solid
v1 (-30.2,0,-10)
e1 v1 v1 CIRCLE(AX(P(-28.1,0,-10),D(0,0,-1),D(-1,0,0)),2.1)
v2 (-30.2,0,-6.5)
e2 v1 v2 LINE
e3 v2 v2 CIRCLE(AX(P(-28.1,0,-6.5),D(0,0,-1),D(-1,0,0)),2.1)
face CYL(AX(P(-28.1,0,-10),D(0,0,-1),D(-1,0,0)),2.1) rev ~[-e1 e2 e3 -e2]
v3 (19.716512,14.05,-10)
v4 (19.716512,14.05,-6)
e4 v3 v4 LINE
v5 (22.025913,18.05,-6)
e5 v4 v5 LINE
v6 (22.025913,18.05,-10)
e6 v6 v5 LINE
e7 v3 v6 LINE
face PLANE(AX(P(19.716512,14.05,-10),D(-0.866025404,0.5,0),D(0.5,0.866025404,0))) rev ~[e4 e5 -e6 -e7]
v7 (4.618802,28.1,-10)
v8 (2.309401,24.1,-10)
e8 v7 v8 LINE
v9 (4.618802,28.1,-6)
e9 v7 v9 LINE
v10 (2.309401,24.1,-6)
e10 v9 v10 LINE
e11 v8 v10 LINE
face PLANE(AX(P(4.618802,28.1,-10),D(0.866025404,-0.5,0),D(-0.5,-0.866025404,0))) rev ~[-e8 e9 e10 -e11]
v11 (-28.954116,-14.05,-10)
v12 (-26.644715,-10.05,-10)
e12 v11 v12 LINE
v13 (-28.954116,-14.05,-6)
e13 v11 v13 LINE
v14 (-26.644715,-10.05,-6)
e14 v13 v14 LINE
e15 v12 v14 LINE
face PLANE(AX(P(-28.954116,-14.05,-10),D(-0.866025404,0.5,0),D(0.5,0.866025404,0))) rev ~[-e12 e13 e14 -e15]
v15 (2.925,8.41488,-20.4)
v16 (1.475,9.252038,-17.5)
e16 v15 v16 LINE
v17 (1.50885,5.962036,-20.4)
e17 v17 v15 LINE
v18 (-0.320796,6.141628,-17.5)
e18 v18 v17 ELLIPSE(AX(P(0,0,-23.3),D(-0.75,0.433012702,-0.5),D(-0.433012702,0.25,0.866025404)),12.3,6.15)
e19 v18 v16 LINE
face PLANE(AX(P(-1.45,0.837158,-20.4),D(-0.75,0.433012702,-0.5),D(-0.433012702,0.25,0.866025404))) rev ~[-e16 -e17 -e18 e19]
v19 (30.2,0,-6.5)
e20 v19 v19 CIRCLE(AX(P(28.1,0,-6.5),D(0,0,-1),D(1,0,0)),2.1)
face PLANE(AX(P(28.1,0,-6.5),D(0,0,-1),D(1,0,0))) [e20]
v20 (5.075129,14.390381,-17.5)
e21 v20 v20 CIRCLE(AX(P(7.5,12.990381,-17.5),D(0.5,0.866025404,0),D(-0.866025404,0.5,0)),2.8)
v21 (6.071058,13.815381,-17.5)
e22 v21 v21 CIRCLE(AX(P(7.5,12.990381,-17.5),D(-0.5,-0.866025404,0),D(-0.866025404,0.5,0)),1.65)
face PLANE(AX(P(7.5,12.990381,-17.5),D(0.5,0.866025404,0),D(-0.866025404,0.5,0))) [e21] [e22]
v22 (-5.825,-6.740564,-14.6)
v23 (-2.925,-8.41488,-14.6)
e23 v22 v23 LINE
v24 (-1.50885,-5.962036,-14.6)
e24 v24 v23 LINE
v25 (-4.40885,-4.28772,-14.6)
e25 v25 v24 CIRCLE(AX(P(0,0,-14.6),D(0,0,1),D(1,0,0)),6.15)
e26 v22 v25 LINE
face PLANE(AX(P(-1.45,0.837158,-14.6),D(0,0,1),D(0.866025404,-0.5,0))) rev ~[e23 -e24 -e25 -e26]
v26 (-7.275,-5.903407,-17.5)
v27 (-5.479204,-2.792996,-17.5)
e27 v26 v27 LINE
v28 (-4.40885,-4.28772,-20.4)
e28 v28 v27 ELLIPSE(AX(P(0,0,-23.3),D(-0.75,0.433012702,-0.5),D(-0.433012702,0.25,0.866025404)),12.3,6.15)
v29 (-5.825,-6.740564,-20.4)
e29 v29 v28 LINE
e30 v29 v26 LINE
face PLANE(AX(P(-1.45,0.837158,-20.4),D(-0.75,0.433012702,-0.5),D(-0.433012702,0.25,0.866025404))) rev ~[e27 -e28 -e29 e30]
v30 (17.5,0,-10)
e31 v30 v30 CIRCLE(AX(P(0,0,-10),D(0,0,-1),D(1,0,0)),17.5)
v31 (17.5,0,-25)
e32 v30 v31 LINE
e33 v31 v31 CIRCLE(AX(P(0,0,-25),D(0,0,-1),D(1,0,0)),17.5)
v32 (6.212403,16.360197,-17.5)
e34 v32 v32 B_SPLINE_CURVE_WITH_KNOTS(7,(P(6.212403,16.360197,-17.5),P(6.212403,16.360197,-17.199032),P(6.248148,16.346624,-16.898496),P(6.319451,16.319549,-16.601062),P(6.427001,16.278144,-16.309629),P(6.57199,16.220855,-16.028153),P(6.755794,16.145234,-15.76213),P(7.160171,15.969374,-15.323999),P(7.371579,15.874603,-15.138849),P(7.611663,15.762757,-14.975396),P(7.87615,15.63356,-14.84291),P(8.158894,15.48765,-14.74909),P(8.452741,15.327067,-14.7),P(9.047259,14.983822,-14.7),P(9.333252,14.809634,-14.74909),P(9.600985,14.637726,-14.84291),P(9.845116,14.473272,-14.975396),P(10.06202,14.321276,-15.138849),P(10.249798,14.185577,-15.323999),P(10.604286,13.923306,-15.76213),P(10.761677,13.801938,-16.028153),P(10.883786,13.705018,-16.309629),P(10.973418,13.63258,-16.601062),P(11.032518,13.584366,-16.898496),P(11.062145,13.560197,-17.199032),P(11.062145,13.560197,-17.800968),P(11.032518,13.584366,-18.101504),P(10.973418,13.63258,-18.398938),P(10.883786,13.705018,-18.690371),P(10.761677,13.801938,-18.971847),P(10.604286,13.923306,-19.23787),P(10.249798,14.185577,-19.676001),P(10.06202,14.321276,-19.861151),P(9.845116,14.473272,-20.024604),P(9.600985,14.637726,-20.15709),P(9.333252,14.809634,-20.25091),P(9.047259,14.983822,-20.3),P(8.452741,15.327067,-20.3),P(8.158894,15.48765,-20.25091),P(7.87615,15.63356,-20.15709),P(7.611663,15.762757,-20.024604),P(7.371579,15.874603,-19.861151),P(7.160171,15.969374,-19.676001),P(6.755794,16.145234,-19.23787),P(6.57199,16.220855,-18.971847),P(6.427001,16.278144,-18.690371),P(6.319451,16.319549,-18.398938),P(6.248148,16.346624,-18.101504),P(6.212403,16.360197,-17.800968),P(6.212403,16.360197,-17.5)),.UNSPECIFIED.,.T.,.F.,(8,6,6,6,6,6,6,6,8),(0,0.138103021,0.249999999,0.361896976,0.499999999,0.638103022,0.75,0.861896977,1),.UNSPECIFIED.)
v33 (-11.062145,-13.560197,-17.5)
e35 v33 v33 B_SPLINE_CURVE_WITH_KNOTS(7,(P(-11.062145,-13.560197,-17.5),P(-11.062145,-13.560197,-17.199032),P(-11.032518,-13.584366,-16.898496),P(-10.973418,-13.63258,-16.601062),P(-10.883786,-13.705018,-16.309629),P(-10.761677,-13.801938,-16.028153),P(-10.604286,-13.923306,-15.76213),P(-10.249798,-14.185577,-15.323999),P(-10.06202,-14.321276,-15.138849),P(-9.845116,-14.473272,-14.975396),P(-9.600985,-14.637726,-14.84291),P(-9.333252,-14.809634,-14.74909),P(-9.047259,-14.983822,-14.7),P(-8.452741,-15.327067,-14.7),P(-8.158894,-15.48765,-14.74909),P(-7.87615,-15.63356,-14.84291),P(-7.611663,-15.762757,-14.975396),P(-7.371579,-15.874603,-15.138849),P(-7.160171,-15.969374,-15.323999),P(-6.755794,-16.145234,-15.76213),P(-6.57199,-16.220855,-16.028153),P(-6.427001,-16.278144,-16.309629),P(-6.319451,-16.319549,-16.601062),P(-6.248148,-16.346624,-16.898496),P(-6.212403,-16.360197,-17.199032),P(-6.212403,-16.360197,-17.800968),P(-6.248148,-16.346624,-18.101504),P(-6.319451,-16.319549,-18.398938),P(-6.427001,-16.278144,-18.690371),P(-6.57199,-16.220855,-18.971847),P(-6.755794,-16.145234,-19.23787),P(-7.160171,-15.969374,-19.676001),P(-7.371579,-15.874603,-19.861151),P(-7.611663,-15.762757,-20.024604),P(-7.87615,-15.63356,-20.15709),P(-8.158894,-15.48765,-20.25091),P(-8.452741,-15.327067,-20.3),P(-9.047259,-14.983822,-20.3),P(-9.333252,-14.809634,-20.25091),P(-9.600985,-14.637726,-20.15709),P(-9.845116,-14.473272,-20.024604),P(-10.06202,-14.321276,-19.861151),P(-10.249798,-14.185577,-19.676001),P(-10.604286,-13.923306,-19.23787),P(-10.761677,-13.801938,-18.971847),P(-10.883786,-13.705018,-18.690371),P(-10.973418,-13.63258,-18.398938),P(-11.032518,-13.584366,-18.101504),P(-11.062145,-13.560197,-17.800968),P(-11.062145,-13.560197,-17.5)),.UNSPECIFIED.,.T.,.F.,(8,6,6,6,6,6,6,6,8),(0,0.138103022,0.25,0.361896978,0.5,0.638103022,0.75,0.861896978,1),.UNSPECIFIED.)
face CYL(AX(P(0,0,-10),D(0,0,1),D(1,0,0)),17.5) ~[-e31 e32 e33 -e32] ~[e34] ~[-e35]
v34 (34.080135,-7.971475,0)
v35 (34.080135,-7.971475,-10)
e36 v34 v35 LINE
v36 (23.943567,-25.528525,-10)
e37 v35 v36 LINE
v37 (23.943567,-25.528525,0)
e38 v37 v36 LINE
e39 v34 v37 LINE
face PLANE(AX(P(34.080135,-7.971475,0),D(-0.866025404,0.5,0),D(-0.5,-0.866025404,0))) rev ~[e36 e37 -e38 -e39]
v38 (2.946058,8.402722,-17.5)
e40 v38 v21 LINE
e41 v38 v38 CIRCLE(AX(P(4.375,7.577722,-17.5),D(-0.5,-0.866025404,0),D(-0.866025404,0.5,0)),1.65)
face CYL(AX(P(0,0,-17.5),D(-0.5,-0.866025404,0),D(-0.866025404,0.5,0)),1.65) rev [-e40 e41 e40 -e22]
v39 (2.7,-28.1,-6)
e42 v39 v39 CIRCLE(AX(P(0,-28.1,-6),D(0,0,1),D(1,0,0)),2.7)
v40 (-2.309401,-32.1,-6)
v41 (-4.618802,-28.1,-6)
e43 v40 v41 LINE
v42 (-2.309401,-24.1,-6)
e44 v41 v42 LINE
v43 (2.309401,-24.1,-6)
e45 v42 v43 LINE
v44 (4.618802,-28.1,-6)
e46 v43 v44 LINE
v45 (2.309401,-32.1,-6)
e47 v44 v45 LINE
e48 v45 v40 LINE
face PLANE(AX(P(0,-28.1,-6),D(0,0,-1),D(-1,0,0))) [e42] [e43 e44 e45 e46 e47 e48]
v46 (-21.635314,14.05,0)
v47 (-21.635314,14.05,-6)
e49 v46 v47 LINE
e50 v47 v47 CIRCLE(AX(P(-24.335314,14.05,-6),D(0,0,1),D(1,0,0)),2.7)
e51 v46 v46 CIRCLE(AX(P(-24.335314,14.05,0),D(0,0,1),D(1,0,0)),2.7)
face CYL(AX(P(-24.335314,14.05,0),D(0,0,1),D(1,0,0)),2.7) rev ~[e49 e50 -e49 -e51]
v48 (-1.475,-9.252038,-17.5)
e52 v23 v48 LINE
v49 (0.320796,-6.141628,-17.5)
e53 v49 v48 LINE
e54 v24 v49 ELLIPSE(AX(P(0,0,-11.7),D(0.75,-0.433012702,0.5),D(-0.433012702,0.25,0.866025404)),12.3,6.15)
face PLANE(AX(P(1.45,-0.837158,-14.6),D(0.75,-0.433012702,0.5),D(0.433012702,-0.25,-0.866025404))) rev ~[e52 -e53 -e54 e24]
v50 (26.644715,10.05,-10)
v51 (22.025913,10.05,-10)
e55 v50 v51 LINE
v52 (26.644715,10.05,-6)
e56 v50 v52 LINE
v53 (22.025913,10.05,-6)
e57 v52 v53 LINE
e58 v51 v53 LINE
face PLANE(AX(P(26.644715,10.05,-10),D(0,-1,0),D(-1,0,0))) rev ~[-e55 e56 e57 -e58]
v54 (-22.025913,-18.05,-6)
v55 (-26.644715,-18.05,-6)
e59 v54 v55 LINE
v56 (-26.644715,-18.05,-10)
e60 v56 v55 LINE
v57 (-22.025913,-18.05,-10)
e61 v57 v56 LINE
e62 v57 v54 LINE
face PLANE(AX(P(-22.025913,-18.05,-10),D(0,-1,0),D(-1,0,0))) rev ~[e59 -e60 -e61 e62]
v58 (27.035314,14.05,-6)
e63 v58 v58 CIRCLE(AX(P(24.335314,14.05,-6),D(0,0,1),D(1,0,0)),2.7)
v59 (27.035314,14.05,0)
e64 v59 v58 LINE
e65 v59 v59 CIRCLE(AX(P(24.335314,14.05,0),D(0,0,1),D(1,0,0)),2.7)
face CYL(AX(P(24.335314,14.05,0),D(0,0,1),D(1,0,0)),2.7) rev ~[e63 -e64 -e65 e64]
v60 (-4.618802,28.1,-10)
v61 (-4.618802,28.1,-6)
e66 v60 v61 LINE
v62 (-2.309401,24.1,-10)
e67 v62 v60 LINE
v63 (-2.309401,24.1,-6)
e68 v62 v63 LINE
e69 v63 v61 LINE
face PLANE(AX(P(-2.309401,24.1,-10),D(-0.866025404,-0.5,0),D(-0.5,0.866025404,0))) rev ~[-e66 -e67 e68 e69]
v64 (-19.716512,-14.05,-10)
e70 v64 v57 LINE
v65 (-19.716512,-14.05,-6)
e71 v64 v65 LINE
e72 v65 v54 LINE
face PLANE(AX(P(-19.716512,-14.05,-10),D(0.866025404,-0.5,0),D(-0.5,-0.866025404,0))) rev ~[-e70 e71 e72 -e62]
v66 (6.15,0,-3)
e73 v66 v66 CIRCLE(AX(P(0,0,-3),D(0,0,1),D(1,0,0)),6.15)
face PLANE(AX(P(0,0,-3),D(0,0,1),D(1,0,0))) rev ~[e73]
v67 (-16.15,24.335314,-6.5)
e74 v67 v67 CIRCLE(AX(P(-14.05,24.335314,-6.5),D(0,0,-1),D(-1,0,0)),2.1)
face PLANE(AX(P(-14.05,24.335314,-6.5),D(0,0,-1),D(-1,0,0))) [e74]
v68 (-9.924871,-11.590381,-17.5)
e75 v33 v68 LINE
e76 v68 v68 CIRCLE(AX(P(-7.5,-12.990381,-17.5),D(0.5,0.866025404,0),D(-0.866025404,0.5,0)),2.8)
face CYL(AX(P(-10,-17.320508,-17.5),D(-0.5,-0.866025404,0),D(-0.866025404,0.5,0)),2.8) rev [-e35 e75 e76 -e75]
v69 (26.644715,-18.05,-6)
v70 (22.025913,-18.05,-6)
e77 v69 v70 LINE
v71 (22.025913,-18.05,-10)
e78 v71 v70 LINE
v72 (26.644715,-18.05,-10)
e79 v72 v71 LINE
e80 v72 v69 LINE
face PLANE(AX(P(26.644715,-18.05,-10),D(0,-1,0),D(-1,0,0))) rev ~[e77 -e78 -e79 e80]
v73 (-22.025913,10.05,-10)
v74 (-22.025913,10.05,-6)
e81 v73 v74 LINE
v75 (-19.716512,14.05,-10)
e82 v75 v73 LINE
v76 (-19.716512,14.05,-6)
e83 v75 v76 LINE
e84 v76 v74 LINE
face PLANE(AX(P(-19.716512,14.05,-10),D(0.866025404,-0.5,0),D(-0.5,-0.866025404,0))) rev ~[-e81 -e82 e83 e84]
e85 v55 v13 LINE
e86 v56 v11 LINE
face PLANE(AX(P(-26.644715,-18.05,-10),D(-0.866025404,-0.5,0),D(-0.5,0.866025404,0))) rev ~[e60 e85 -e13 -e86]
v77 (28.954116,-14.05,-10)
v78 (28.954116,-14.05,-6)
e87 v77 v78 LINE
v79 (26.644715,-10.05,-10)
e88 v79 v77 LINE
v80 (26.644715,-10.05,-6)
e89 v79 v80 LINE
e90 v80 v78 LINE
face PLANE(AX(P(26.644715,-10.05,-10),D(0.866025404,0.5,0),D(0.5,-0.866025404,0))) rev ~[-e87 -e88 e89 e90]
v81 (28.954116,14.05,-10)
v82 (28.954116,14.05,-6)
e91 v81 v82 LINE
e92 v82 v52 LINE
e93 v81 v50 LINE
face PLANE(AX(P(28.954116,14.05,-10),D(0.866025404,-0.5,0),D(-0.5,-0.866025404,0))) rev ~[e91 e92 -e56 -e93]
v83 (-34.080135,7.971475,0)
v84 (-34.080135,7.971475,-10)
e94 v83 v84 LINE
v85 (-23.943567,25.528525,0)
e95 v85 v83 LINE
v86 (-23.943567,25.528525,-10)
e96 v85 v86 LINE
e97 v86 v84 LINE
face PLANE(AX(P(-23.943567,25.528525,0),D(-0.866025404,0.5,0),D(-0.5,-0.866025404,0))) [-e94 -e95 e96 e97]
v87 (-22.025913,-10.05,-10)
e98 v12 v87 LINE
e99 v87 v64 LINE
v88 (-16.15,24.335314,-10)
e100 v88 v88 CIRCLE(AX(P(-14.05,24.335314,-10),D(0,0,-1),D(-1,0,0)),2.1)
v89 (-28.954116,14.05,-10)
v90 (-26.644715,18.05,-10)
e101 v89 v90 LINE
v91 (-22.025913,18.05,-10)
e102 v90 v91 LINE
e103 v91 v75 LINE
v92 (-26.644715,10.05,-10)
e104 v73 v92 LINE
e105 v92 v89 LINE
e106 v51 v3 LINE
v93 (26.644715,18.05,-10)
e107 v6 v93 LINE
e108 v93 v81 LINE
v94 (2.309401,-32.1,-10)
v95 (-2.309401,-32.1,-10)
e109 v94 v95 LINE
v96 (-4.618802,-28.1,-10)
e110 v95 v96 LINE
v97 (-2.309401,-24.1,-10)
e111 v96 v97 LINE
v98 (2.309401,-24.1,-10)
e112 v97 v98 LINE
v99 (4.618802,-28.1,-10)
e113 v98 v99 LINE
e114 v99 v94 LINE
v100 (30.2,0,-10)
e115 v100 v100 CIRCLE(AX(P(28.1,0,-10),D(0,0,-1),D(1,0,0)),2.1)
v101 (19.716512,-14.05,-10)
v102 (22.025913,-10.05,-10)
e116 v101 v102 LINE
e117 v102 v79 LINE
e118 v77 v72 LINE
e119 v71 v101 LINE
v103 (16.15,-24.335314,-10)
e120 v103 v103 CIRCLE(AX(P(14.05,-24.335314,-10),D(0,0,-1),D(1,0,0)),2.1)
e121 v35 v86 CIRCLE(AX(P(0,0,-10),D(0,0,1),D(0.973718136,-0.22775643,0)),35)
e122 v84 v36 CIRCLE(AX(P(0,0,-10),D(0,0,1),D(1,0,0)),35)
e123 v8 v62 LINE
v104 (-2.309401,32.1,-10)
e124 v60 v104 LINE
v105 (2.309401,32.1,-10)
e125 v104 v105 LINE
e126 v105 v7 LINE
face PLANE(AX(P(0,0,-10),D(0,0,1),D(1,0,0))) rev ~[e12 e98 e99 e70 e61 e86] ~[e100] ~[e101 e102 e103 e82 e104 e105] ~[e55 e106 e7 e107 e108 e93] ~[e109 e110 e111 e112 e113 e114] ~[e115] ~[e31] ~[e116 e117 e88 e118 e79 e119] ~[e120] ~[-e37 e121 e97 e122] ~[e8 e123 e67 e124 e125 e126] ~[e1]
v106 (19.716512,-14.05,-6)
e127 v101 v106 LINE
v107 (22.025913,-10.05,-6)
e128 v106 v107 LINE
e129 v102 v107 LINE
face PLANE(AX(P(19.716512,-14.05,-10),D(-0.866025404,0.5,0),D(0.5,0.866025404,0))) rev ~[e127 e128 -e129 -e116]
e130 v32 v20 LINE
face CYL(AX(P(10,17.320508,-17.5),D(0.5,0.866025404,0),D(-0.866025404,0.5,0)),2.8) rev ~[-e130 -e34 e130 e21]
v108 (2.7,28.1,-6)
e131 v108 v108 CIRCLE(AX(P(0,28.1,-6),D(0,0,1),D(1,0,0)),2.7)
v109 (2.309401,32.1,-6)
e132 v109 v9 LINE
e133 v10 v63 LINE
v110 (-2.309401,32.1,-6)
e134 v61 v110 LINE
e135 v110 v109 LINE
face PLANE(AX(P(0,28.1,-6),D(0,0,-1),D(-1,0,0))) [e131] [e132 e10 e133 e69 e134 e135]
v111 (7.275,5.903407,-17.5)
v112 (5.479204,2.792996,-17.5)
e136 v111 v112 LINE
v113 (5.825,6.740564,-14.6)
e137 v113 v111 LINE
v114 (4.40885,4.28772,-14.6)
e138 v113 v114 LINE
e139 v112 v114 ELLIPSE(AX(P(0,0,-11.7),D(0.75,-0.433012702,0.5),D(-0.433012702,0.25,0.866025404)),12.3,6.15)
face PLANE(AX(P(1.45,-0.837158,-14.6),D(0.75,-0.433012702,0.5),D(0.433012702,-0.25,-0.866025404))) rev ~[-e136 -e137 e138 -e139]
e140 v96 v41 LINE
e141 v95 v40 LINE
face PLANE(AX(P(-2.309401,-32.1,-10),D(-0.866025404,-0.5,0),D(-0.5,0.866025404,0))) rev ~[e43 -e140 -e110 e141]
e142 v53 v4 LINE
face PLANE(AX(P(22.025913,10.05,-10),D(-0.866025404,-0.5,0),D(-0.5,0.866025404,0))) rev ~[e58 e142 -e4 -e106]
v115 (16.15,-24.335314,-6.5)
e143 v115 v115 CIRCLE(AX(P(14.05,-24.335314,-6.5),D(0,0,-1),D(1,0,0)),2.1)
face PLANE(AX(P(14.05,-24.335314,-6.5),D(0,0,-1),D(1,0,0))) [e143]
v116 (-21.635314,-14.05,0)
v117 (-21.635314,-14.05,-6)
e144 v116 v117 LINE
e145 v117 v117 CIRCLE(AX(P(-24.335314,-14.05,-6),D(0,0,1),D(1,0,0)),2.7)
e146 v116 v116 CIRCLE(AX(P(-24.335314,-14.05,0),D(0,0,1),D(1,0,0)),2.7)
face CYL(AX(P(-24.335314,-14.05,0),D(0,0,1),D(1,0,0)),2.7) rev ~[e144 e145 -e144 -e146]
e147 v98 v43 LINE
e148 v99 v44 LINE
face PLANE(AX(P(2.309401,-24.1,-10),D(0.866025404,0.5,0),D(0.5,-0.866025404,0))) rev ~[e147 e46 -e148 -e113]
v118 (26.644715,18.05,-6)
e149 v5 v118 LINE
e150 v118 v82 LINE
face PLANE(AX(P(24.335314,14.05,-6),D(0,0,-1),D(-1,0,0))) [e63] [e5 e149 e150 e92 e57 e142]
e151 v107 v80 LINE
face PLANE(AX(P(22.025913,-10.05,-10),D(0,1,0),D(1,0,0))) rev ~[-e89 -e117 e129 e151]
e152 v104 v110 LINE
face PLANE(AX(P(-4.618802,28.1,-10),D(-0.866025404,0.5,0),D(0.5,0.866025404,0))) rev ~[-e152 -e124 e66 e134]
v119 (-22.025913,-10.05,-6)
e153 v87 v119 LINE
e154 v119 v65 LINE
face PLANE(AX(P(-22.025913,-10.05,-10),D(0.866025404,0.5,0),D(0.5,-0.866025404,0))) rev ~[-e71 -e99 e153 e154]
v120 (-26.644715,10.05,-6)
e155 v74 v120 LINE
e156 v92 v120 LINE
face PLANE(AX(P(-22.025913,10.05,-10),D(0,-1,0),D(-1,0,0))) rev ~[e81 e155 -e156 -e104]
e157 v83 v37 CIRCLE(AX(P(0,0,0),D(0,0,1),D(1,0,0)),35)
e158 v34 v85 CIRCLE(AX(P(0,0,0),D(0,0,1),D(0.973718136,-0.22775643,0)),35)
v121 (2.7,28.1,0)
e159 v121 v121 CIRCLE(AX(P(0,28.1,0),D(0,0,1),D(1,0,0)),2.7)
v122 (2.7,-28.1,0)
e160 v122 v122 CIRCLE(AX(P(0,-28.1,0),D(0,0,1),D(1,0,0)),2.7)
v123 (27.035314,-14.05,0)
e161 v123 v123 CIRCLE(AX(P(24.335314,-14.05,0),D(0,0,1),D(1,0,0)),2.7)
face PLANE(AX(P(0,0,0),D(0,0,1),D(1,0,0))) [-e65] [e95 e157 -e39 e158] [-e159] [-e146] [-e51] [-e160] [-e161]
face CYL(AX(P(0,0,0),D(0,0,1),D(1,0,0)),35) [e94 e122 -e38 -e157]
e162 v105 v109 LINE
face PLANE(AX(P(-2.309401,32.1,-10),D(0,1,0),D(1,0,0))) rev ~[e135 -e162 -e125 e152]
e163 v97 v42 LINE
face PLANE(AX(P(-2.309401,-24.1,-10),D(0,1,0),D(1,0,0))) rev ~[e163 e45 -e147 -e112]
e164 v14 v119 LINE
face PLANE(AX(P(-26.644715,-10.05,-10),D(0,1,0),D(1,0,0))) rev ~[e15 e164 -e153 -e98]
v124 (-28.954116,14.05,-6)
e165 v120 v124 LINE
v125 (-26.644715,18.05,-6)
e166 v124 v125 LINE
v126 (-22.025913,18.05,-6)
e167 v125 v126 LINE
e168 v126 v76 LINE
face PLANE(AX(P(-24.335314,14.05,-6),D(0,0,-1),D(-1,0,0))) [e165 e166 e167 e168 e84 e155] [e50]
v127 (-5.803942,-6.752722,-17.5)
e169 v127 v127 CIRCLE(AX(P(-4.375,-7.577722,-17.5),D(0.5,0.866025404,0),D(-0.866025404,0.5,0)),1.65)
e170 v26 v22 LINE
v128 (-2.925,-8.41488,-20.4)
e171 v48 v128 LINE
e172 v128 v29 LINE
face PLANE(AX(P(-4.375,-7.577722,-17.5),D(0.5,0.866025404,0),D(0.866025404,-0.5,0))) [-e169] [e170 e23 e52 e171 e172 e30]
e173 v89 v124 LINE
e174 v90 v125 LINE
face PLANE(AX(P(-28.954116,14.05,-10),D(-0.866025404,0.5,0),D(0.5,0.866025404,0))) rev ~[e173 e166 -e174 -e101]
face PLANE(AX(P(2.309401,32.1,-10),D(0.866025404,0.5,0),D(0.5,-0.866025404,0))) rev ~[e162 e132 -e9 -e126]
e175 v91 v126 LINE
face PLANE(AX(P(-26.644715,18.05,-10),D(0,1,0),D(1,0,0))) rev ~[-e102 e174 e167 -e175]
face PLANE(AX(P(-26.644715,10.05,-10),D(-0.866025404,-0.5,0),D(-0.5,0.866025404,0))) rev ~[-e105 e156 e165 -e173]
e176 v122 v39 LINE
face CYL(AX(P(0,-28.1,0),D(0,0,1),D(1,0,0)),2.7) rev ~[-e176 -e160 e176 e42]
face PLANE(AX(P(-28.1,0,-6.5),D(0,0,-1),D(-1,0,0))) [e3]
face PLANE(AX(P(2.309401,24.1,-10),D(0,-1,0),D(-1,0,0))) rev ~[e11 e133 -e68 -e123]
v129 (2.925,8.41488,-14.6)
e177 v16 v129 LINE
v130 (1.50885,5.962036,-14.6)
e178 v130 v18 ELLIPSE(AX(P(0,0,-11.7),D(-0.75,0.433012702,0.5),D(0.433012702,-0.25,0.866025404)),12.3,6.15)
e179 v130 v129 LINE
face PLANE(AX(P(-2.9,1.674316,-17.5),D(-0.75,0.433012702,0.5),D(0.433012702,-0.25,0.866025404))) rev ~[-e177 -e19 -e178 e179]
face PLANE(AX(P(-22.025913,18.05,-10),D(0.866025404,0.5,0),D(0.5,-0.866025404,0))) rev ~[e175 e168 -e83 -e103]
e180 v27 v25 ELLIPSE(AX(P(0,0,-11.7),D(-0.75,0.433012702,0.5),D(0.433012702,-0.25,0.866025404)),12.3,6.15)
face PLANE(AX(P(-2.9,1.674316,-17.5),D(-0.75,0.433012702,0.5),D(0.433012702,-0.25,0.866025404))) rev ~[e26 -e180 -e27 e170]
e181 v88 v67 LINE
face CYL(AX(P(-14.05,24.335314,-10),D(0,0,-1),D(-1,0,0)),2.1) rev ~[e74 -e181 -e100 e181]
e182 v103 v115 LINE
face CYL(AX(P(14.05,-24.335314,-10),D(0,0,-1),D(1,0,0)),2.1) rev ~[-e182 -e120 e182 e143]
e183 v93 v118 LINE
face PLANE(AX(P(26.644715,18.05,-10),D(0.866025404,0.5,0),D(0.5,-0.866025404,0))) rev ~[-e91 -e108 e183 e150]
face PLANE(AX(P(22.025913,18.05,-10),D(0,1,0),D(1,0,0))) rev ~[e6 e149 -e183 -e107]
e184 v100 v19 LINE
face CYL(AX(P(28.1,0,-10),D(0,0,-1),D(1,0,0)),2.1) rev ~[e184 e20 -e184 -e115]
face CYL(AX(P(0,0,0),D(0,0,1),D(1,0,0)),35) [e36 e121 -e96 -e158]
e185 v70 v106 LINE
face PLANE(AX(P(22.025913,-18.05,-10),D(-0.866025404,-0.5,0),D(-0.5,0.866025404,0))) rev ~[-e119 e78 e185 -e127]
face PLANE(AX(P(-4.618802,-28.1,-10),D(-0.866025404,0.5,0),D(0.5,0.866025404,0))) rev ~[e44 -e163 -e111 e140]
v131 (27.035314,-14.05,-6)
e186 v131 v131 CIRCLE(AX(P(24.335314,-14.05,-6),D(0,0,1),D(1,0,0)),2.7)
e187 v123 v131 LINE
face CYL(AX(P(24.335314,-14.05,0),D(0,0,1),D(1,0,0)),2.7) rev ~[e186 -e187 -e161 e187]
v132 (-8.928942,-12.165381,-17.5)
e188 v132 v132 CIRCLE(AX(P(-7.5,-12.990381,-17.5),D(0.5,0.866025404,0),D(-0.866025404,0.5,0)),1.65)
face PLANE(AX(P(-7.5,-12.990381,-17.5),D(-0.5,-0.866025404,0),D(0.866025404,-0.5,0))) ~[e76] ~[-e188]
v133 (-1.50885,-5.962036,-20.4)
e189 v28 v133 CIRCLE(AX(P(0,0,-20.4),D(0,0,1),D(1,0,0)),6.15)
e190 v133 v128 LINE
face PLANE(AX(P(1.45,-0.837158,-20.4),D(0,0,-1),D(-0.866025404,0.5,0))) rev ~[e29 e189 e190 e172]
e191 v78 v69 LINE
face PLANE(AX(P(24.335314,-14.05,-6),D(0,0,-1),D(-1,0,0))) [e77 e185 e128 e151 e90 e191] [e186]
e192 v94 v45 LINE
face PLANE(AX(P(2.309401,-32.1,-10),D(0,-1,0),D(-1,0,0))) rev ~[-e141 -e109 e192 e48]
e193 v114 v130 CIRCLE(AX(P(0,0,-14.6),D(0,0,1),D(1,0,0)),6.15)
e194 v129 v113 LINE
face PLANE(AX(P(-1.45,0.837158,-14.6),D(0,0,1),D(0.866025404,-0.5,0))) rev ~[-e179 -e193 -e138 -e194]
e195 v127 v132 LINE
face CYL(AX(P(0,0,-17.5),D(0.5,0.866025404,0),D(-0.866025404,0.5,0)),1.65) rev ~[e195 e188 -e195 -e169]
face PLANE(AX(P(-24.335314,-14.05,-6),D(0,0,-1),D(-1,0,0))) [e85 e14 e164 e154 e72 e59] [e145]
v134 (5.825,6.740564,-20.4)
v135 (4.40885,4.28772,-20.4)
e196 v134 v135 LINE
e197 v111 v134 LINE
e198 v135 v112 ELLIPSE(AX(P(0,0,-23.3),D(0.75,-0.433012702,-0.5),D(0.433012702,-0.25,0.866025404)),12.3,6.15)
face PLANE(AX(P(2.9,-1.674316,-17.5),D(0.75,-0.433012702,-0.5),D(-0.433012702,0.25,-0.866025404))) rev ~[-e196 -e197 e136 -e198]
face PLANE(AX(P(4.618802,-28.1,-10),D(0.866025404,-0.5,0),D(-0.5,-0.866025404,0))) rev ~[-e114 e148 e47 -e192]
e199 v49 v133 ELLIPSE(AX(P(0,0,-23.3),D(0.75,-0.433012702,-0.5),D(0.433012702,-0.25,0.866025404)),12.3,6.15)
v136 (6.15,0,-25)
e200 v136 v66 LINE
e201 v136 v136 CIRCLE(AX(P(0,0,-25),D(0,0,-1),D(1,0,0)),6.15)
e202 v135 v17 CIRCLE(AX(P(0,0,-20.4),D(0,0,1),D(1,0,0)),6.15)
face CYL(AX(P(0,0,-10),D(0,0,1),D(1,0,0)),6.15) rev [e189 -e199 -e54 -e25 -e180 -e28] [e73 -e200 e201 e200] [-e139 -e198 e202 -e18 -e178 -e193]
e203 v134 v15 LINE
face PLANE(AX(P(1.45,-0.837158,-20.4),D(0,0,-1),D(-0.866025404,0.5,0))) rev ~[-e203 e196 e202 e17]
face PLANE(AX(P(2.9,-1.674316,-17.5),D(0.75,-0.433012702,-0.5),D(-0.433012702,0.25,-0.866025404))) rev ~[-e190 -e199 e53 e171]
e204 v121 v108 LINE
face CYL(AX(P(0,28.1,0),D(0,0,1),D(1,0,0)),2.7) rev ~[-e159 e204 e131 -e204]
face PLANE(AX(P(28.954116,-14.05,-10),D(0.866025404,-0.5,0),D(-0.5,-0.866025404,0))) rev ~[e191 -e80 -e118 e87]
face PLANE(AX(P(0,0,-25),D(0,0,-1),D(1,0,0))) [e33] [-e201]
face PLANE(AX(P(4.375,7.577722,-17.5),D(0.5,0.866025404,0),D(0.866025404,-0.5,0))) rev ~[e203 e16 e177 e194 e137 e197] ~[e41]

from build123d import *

# Parameters (mm, degrees)
SKETCH3_R               = 35
SKETCH3_R_2             = 6.15
BOSS_EXTRUDE1_DEPTH     = 10
SKETCH4_R               = 17.5
SKETCH4_R_2             = 6.15
BOSS_EXTRUDE2_DEPTH     = 15
SKETCH5_R               = 6.15
BOSS_EXTRUDE3_DEPTH     = 3
SKETCH7_R               = 2.7
CUT_EXTRUDE1_DEPTH      = 6
CUT_EXTRUDE2_DEPTH      = 10
SKETCH9_R               = 1.65
CUT_EXTRUDE3_DEPTH      = 84.669466186
CUT_EXTRUDE3_DEPTH_BACK = 84.669466186
CUT_EXTRUDE4_DEPTH      = 8.75
CUT_EXTRUDE5_START      = 20
SKETCH11_R              = 2.8
CUT_EXTRUDE5_DEPTH      = 5
SKETCH17_R              = 2.1
CUT_EXTRUDE6_DEPTH      = 3.5
CUT_EXTRUDE7_DEPTH      = 4


with BuildPart() as part:
    # Sketch3 → Boss-Extrude1 (new body)
    with BuildSketch(Plane.XY):
        Circle(SKETCH3_R)
        Circle(SKETCH3_R_2, mode=Mode.SUBTRACT)
    extrude(amount=-BOSS_EXTRUDE1_DEPTH)

    # Sketch4 → Boss-Extrude2 (add)
    with BuildSketch(Plane(origin=(0, 0, -10), x_dir=(-1, 0, 0), z_dir=(0, 0, -1))):
        with Locations(Location((0, 0, 0), (0, 0, 180))):
            Circle(SKETCH4_R)
        with Locations(Location((0, 0, 0), (0, 0, 180))):
            Circle(SKETCH4_R_2, mode=Mode.SUBTRACT)
    extrude(amount=BOSS_EXTRUDE2_DEPTH)

    # Sketch5 → Boss-Extrude3 (add)
    with BuildSketch(Plane.XY):
        Circle(SKETCH5_R)
    extrude(amount=-BOSS_EXTRUDE3_DEPTH)

    # Sketch7 → Cut-Extrude1 (cut)
    with BuildSketch(Plane.XY):
        with Locations((-24.335313846, 14.05)):
            Circle(SKETCH7_R)
        with Locations((-24.335313846, -14.05)):
            Circle(SKETCH7_R)
        with Locations((0, -28.1)):
            Circle(SKETCH7_R)
        with Locations((24.335313846, -14.05)):
            Circle(SKETCH7_R)
        with Locations((24.335313846, 14.05)):
            Circle(SKETCH7_R)
        with Locations((0, 28.1)):
            Circle(SKETCH7_R)
    extrude(amount=-CUT_EXTRUDE1_DEPTH, mode=Mode.SUBTRACT)

    # Sketch8 → Cut-Extrude2 (cut)
    with BuildSketch(Plane.XY):
        with BuildLine():
            Line((-23.943567294, 25.528524933), (-34.08013476, 7.971475067))
            ThreePointArc((-34.08013476, 7.971475067), (-30.310889132, 17.5), (-23.943567294, 25.528524933))
        make_face()
        with BuildLine():
            Line((34.08013476, -7.971475067), (23.943567294, -25.528524933))
            ThreePointArc((23.943567294, -25.528524933), (30.310889132, -17.5), (34.08013476, -7.971475067))
        make_face()
    extrude(amount=-CUT_EXTRUDE2_DEPTH, mode=Mode.SUBTRACT)

    # Sketch9 → Cut-Extrude3 (cut, two sides)
    with BuildSketch(Plane(origin=(-29.011851027, 16.75, -10), x_dir=(0.8660254037844387, -0.4999999999999999, 0), z_dir=(0.49999999999999994, 0.8660254037844388, 0))) as cut_extrude3_sk:
        with Locations(Location((33.5, 7.5, 0), (0, 0, 180))):
            Circle(SKETCH9_R)
    extrude(amount=CUT_EXTRUDE3_DEPTH, mode=Mode.SUBTRACT)
    extrude(cut_extrude3_sk.sketch, amount=-CUT_EXTRUDE3_DEPTH_BACK, mode=Mode.SUBTRACT)

    # Sketch10 → Cut-Extrude4 (cut, symmetric)
    with BuildSketch(Plane(origin=(-29.011851027, 16.75, -10), x_dir=(0.8660254037844387, -0.4999999999999999, 0), z_dir=(0.49999999999999994, 0.8660254037844388, 0))):
        Polygon((35.174315781, 10.4), (31.825684219, 10.4), (30.151368439, 7.5), (31.825684219, 4.6), (35.174315781, 4.6), (36.848631561, 7.5), align=None)
    extrude(amount=CUT_EXTRUDE4_DEPTH, both=True, mode=Mode.SUBTRACT)

    # Sketch11 → Cut-Extrude5 (cut)
    with BuildSketch(Plane(origin=(-29.011851027, 16.75, -10), x_dir=(0.8660254037844387, -0.4999999999999999, 0), z_dir=(0.49999999999999994, 0.8660254037844388, 0)).offset(CUT_EXTRUDE5_START)):
        with Locations(Location((33.5, 7.5, 0), (0, 0, 180))):
            Circle(SKETCH11_R)
    cut_extrude5 = extrude(amount=-CUT_EXTRUDE5_DEPTH, mode=Mode.SUBTRACT)

    # Mirror1: Cut-Extrude5 across plane
    add(cut_extrude5.mirror(Plane(origin=(-29.011851027, 16.75, -10), x_dir=(0, 0, 1), z_dir=(0.49999999999999994, 0.8660254037844388, 0))), mode=Mode.SUBTRACT)

    # Sketch17 → Cut-Extrude6 (cut)
    with BuildSketch(Plane(origin=(0, 0, -10), x_dir=(-1, 0, 0), z_dir=(0, 0, -1))):
        with Locations((14.05, 24.335313846)):
            Circle(SKETCH17_R)
        with Locations((28.1, 0)):
            Circle(SKETCH17_R)
        with Locations(Location((-28.1, 0, 0), (0, 0, 180))):
            Circle(SKETCH17_R)
        with Locations(Location((-14.05, -24.335313846, 0), (0, 0, 180))):
            Circle(SKETCH17_R)
    extrude(amount=-CUT_EXTRUDE6_DEPTH, mode=Mode.SUBTRACT)

    # Sketch18 → Cut-Extrude7 (cut)
    with BuildSketch(Plane(origin=(0, 0, -10), x_dir=(-1, 0, 0), z_dir=(0, 0, -1))):
        Polygon((26.644714923, 18.05), (22.02591277, 18.05), (19.716511693, 14.05), (22.02591277, 10.05), (26.644714923, 10.05), (28.954116, 14.05), align=None)
        Polygon((-2.309401077, 32.1), (-4.618802154, 28.1), (-2.309401077, 24.1), (2.309401077, 24.1), (4.618802154, 28.1), (2.309401077, 32.1), align=None)
        Polygon((28.954116, -14.05), (26.644714923, -10.05), (22.02591277, -10.05), (19.716511693, -14.05), (22.02591277, -18.05), (26.644714923, -18.05), align=None)
        Polygon((2.309401077, -32.1), (4.618802154, -28.1), (2.309401077, -24.1), (-2.309401077, -24.1), (-4.618802154, -28.1), (-2.309401077, -32.1), align=None)
        Polygon((-26.644714923, -18.05), (-22.02591277, -18.05), (-19.716511693, -14.05), (-22.02591277, -10.05), (-26.644714923, -10.05), (-28.954116, -14.05), align=None)
        Polygon((-28.954116, 14.05), (-26.644714923, 10.05), (-22.02591277, 10.05), (-19.716511693, 14.05), (-22.02591277, 18.05), (-26.644714923, 18.05), align=None)
    extrude(amount=-CUT_EXTRUDE7_DEPTH, mode=Mode.SUBTRACT)


solid = part.part
